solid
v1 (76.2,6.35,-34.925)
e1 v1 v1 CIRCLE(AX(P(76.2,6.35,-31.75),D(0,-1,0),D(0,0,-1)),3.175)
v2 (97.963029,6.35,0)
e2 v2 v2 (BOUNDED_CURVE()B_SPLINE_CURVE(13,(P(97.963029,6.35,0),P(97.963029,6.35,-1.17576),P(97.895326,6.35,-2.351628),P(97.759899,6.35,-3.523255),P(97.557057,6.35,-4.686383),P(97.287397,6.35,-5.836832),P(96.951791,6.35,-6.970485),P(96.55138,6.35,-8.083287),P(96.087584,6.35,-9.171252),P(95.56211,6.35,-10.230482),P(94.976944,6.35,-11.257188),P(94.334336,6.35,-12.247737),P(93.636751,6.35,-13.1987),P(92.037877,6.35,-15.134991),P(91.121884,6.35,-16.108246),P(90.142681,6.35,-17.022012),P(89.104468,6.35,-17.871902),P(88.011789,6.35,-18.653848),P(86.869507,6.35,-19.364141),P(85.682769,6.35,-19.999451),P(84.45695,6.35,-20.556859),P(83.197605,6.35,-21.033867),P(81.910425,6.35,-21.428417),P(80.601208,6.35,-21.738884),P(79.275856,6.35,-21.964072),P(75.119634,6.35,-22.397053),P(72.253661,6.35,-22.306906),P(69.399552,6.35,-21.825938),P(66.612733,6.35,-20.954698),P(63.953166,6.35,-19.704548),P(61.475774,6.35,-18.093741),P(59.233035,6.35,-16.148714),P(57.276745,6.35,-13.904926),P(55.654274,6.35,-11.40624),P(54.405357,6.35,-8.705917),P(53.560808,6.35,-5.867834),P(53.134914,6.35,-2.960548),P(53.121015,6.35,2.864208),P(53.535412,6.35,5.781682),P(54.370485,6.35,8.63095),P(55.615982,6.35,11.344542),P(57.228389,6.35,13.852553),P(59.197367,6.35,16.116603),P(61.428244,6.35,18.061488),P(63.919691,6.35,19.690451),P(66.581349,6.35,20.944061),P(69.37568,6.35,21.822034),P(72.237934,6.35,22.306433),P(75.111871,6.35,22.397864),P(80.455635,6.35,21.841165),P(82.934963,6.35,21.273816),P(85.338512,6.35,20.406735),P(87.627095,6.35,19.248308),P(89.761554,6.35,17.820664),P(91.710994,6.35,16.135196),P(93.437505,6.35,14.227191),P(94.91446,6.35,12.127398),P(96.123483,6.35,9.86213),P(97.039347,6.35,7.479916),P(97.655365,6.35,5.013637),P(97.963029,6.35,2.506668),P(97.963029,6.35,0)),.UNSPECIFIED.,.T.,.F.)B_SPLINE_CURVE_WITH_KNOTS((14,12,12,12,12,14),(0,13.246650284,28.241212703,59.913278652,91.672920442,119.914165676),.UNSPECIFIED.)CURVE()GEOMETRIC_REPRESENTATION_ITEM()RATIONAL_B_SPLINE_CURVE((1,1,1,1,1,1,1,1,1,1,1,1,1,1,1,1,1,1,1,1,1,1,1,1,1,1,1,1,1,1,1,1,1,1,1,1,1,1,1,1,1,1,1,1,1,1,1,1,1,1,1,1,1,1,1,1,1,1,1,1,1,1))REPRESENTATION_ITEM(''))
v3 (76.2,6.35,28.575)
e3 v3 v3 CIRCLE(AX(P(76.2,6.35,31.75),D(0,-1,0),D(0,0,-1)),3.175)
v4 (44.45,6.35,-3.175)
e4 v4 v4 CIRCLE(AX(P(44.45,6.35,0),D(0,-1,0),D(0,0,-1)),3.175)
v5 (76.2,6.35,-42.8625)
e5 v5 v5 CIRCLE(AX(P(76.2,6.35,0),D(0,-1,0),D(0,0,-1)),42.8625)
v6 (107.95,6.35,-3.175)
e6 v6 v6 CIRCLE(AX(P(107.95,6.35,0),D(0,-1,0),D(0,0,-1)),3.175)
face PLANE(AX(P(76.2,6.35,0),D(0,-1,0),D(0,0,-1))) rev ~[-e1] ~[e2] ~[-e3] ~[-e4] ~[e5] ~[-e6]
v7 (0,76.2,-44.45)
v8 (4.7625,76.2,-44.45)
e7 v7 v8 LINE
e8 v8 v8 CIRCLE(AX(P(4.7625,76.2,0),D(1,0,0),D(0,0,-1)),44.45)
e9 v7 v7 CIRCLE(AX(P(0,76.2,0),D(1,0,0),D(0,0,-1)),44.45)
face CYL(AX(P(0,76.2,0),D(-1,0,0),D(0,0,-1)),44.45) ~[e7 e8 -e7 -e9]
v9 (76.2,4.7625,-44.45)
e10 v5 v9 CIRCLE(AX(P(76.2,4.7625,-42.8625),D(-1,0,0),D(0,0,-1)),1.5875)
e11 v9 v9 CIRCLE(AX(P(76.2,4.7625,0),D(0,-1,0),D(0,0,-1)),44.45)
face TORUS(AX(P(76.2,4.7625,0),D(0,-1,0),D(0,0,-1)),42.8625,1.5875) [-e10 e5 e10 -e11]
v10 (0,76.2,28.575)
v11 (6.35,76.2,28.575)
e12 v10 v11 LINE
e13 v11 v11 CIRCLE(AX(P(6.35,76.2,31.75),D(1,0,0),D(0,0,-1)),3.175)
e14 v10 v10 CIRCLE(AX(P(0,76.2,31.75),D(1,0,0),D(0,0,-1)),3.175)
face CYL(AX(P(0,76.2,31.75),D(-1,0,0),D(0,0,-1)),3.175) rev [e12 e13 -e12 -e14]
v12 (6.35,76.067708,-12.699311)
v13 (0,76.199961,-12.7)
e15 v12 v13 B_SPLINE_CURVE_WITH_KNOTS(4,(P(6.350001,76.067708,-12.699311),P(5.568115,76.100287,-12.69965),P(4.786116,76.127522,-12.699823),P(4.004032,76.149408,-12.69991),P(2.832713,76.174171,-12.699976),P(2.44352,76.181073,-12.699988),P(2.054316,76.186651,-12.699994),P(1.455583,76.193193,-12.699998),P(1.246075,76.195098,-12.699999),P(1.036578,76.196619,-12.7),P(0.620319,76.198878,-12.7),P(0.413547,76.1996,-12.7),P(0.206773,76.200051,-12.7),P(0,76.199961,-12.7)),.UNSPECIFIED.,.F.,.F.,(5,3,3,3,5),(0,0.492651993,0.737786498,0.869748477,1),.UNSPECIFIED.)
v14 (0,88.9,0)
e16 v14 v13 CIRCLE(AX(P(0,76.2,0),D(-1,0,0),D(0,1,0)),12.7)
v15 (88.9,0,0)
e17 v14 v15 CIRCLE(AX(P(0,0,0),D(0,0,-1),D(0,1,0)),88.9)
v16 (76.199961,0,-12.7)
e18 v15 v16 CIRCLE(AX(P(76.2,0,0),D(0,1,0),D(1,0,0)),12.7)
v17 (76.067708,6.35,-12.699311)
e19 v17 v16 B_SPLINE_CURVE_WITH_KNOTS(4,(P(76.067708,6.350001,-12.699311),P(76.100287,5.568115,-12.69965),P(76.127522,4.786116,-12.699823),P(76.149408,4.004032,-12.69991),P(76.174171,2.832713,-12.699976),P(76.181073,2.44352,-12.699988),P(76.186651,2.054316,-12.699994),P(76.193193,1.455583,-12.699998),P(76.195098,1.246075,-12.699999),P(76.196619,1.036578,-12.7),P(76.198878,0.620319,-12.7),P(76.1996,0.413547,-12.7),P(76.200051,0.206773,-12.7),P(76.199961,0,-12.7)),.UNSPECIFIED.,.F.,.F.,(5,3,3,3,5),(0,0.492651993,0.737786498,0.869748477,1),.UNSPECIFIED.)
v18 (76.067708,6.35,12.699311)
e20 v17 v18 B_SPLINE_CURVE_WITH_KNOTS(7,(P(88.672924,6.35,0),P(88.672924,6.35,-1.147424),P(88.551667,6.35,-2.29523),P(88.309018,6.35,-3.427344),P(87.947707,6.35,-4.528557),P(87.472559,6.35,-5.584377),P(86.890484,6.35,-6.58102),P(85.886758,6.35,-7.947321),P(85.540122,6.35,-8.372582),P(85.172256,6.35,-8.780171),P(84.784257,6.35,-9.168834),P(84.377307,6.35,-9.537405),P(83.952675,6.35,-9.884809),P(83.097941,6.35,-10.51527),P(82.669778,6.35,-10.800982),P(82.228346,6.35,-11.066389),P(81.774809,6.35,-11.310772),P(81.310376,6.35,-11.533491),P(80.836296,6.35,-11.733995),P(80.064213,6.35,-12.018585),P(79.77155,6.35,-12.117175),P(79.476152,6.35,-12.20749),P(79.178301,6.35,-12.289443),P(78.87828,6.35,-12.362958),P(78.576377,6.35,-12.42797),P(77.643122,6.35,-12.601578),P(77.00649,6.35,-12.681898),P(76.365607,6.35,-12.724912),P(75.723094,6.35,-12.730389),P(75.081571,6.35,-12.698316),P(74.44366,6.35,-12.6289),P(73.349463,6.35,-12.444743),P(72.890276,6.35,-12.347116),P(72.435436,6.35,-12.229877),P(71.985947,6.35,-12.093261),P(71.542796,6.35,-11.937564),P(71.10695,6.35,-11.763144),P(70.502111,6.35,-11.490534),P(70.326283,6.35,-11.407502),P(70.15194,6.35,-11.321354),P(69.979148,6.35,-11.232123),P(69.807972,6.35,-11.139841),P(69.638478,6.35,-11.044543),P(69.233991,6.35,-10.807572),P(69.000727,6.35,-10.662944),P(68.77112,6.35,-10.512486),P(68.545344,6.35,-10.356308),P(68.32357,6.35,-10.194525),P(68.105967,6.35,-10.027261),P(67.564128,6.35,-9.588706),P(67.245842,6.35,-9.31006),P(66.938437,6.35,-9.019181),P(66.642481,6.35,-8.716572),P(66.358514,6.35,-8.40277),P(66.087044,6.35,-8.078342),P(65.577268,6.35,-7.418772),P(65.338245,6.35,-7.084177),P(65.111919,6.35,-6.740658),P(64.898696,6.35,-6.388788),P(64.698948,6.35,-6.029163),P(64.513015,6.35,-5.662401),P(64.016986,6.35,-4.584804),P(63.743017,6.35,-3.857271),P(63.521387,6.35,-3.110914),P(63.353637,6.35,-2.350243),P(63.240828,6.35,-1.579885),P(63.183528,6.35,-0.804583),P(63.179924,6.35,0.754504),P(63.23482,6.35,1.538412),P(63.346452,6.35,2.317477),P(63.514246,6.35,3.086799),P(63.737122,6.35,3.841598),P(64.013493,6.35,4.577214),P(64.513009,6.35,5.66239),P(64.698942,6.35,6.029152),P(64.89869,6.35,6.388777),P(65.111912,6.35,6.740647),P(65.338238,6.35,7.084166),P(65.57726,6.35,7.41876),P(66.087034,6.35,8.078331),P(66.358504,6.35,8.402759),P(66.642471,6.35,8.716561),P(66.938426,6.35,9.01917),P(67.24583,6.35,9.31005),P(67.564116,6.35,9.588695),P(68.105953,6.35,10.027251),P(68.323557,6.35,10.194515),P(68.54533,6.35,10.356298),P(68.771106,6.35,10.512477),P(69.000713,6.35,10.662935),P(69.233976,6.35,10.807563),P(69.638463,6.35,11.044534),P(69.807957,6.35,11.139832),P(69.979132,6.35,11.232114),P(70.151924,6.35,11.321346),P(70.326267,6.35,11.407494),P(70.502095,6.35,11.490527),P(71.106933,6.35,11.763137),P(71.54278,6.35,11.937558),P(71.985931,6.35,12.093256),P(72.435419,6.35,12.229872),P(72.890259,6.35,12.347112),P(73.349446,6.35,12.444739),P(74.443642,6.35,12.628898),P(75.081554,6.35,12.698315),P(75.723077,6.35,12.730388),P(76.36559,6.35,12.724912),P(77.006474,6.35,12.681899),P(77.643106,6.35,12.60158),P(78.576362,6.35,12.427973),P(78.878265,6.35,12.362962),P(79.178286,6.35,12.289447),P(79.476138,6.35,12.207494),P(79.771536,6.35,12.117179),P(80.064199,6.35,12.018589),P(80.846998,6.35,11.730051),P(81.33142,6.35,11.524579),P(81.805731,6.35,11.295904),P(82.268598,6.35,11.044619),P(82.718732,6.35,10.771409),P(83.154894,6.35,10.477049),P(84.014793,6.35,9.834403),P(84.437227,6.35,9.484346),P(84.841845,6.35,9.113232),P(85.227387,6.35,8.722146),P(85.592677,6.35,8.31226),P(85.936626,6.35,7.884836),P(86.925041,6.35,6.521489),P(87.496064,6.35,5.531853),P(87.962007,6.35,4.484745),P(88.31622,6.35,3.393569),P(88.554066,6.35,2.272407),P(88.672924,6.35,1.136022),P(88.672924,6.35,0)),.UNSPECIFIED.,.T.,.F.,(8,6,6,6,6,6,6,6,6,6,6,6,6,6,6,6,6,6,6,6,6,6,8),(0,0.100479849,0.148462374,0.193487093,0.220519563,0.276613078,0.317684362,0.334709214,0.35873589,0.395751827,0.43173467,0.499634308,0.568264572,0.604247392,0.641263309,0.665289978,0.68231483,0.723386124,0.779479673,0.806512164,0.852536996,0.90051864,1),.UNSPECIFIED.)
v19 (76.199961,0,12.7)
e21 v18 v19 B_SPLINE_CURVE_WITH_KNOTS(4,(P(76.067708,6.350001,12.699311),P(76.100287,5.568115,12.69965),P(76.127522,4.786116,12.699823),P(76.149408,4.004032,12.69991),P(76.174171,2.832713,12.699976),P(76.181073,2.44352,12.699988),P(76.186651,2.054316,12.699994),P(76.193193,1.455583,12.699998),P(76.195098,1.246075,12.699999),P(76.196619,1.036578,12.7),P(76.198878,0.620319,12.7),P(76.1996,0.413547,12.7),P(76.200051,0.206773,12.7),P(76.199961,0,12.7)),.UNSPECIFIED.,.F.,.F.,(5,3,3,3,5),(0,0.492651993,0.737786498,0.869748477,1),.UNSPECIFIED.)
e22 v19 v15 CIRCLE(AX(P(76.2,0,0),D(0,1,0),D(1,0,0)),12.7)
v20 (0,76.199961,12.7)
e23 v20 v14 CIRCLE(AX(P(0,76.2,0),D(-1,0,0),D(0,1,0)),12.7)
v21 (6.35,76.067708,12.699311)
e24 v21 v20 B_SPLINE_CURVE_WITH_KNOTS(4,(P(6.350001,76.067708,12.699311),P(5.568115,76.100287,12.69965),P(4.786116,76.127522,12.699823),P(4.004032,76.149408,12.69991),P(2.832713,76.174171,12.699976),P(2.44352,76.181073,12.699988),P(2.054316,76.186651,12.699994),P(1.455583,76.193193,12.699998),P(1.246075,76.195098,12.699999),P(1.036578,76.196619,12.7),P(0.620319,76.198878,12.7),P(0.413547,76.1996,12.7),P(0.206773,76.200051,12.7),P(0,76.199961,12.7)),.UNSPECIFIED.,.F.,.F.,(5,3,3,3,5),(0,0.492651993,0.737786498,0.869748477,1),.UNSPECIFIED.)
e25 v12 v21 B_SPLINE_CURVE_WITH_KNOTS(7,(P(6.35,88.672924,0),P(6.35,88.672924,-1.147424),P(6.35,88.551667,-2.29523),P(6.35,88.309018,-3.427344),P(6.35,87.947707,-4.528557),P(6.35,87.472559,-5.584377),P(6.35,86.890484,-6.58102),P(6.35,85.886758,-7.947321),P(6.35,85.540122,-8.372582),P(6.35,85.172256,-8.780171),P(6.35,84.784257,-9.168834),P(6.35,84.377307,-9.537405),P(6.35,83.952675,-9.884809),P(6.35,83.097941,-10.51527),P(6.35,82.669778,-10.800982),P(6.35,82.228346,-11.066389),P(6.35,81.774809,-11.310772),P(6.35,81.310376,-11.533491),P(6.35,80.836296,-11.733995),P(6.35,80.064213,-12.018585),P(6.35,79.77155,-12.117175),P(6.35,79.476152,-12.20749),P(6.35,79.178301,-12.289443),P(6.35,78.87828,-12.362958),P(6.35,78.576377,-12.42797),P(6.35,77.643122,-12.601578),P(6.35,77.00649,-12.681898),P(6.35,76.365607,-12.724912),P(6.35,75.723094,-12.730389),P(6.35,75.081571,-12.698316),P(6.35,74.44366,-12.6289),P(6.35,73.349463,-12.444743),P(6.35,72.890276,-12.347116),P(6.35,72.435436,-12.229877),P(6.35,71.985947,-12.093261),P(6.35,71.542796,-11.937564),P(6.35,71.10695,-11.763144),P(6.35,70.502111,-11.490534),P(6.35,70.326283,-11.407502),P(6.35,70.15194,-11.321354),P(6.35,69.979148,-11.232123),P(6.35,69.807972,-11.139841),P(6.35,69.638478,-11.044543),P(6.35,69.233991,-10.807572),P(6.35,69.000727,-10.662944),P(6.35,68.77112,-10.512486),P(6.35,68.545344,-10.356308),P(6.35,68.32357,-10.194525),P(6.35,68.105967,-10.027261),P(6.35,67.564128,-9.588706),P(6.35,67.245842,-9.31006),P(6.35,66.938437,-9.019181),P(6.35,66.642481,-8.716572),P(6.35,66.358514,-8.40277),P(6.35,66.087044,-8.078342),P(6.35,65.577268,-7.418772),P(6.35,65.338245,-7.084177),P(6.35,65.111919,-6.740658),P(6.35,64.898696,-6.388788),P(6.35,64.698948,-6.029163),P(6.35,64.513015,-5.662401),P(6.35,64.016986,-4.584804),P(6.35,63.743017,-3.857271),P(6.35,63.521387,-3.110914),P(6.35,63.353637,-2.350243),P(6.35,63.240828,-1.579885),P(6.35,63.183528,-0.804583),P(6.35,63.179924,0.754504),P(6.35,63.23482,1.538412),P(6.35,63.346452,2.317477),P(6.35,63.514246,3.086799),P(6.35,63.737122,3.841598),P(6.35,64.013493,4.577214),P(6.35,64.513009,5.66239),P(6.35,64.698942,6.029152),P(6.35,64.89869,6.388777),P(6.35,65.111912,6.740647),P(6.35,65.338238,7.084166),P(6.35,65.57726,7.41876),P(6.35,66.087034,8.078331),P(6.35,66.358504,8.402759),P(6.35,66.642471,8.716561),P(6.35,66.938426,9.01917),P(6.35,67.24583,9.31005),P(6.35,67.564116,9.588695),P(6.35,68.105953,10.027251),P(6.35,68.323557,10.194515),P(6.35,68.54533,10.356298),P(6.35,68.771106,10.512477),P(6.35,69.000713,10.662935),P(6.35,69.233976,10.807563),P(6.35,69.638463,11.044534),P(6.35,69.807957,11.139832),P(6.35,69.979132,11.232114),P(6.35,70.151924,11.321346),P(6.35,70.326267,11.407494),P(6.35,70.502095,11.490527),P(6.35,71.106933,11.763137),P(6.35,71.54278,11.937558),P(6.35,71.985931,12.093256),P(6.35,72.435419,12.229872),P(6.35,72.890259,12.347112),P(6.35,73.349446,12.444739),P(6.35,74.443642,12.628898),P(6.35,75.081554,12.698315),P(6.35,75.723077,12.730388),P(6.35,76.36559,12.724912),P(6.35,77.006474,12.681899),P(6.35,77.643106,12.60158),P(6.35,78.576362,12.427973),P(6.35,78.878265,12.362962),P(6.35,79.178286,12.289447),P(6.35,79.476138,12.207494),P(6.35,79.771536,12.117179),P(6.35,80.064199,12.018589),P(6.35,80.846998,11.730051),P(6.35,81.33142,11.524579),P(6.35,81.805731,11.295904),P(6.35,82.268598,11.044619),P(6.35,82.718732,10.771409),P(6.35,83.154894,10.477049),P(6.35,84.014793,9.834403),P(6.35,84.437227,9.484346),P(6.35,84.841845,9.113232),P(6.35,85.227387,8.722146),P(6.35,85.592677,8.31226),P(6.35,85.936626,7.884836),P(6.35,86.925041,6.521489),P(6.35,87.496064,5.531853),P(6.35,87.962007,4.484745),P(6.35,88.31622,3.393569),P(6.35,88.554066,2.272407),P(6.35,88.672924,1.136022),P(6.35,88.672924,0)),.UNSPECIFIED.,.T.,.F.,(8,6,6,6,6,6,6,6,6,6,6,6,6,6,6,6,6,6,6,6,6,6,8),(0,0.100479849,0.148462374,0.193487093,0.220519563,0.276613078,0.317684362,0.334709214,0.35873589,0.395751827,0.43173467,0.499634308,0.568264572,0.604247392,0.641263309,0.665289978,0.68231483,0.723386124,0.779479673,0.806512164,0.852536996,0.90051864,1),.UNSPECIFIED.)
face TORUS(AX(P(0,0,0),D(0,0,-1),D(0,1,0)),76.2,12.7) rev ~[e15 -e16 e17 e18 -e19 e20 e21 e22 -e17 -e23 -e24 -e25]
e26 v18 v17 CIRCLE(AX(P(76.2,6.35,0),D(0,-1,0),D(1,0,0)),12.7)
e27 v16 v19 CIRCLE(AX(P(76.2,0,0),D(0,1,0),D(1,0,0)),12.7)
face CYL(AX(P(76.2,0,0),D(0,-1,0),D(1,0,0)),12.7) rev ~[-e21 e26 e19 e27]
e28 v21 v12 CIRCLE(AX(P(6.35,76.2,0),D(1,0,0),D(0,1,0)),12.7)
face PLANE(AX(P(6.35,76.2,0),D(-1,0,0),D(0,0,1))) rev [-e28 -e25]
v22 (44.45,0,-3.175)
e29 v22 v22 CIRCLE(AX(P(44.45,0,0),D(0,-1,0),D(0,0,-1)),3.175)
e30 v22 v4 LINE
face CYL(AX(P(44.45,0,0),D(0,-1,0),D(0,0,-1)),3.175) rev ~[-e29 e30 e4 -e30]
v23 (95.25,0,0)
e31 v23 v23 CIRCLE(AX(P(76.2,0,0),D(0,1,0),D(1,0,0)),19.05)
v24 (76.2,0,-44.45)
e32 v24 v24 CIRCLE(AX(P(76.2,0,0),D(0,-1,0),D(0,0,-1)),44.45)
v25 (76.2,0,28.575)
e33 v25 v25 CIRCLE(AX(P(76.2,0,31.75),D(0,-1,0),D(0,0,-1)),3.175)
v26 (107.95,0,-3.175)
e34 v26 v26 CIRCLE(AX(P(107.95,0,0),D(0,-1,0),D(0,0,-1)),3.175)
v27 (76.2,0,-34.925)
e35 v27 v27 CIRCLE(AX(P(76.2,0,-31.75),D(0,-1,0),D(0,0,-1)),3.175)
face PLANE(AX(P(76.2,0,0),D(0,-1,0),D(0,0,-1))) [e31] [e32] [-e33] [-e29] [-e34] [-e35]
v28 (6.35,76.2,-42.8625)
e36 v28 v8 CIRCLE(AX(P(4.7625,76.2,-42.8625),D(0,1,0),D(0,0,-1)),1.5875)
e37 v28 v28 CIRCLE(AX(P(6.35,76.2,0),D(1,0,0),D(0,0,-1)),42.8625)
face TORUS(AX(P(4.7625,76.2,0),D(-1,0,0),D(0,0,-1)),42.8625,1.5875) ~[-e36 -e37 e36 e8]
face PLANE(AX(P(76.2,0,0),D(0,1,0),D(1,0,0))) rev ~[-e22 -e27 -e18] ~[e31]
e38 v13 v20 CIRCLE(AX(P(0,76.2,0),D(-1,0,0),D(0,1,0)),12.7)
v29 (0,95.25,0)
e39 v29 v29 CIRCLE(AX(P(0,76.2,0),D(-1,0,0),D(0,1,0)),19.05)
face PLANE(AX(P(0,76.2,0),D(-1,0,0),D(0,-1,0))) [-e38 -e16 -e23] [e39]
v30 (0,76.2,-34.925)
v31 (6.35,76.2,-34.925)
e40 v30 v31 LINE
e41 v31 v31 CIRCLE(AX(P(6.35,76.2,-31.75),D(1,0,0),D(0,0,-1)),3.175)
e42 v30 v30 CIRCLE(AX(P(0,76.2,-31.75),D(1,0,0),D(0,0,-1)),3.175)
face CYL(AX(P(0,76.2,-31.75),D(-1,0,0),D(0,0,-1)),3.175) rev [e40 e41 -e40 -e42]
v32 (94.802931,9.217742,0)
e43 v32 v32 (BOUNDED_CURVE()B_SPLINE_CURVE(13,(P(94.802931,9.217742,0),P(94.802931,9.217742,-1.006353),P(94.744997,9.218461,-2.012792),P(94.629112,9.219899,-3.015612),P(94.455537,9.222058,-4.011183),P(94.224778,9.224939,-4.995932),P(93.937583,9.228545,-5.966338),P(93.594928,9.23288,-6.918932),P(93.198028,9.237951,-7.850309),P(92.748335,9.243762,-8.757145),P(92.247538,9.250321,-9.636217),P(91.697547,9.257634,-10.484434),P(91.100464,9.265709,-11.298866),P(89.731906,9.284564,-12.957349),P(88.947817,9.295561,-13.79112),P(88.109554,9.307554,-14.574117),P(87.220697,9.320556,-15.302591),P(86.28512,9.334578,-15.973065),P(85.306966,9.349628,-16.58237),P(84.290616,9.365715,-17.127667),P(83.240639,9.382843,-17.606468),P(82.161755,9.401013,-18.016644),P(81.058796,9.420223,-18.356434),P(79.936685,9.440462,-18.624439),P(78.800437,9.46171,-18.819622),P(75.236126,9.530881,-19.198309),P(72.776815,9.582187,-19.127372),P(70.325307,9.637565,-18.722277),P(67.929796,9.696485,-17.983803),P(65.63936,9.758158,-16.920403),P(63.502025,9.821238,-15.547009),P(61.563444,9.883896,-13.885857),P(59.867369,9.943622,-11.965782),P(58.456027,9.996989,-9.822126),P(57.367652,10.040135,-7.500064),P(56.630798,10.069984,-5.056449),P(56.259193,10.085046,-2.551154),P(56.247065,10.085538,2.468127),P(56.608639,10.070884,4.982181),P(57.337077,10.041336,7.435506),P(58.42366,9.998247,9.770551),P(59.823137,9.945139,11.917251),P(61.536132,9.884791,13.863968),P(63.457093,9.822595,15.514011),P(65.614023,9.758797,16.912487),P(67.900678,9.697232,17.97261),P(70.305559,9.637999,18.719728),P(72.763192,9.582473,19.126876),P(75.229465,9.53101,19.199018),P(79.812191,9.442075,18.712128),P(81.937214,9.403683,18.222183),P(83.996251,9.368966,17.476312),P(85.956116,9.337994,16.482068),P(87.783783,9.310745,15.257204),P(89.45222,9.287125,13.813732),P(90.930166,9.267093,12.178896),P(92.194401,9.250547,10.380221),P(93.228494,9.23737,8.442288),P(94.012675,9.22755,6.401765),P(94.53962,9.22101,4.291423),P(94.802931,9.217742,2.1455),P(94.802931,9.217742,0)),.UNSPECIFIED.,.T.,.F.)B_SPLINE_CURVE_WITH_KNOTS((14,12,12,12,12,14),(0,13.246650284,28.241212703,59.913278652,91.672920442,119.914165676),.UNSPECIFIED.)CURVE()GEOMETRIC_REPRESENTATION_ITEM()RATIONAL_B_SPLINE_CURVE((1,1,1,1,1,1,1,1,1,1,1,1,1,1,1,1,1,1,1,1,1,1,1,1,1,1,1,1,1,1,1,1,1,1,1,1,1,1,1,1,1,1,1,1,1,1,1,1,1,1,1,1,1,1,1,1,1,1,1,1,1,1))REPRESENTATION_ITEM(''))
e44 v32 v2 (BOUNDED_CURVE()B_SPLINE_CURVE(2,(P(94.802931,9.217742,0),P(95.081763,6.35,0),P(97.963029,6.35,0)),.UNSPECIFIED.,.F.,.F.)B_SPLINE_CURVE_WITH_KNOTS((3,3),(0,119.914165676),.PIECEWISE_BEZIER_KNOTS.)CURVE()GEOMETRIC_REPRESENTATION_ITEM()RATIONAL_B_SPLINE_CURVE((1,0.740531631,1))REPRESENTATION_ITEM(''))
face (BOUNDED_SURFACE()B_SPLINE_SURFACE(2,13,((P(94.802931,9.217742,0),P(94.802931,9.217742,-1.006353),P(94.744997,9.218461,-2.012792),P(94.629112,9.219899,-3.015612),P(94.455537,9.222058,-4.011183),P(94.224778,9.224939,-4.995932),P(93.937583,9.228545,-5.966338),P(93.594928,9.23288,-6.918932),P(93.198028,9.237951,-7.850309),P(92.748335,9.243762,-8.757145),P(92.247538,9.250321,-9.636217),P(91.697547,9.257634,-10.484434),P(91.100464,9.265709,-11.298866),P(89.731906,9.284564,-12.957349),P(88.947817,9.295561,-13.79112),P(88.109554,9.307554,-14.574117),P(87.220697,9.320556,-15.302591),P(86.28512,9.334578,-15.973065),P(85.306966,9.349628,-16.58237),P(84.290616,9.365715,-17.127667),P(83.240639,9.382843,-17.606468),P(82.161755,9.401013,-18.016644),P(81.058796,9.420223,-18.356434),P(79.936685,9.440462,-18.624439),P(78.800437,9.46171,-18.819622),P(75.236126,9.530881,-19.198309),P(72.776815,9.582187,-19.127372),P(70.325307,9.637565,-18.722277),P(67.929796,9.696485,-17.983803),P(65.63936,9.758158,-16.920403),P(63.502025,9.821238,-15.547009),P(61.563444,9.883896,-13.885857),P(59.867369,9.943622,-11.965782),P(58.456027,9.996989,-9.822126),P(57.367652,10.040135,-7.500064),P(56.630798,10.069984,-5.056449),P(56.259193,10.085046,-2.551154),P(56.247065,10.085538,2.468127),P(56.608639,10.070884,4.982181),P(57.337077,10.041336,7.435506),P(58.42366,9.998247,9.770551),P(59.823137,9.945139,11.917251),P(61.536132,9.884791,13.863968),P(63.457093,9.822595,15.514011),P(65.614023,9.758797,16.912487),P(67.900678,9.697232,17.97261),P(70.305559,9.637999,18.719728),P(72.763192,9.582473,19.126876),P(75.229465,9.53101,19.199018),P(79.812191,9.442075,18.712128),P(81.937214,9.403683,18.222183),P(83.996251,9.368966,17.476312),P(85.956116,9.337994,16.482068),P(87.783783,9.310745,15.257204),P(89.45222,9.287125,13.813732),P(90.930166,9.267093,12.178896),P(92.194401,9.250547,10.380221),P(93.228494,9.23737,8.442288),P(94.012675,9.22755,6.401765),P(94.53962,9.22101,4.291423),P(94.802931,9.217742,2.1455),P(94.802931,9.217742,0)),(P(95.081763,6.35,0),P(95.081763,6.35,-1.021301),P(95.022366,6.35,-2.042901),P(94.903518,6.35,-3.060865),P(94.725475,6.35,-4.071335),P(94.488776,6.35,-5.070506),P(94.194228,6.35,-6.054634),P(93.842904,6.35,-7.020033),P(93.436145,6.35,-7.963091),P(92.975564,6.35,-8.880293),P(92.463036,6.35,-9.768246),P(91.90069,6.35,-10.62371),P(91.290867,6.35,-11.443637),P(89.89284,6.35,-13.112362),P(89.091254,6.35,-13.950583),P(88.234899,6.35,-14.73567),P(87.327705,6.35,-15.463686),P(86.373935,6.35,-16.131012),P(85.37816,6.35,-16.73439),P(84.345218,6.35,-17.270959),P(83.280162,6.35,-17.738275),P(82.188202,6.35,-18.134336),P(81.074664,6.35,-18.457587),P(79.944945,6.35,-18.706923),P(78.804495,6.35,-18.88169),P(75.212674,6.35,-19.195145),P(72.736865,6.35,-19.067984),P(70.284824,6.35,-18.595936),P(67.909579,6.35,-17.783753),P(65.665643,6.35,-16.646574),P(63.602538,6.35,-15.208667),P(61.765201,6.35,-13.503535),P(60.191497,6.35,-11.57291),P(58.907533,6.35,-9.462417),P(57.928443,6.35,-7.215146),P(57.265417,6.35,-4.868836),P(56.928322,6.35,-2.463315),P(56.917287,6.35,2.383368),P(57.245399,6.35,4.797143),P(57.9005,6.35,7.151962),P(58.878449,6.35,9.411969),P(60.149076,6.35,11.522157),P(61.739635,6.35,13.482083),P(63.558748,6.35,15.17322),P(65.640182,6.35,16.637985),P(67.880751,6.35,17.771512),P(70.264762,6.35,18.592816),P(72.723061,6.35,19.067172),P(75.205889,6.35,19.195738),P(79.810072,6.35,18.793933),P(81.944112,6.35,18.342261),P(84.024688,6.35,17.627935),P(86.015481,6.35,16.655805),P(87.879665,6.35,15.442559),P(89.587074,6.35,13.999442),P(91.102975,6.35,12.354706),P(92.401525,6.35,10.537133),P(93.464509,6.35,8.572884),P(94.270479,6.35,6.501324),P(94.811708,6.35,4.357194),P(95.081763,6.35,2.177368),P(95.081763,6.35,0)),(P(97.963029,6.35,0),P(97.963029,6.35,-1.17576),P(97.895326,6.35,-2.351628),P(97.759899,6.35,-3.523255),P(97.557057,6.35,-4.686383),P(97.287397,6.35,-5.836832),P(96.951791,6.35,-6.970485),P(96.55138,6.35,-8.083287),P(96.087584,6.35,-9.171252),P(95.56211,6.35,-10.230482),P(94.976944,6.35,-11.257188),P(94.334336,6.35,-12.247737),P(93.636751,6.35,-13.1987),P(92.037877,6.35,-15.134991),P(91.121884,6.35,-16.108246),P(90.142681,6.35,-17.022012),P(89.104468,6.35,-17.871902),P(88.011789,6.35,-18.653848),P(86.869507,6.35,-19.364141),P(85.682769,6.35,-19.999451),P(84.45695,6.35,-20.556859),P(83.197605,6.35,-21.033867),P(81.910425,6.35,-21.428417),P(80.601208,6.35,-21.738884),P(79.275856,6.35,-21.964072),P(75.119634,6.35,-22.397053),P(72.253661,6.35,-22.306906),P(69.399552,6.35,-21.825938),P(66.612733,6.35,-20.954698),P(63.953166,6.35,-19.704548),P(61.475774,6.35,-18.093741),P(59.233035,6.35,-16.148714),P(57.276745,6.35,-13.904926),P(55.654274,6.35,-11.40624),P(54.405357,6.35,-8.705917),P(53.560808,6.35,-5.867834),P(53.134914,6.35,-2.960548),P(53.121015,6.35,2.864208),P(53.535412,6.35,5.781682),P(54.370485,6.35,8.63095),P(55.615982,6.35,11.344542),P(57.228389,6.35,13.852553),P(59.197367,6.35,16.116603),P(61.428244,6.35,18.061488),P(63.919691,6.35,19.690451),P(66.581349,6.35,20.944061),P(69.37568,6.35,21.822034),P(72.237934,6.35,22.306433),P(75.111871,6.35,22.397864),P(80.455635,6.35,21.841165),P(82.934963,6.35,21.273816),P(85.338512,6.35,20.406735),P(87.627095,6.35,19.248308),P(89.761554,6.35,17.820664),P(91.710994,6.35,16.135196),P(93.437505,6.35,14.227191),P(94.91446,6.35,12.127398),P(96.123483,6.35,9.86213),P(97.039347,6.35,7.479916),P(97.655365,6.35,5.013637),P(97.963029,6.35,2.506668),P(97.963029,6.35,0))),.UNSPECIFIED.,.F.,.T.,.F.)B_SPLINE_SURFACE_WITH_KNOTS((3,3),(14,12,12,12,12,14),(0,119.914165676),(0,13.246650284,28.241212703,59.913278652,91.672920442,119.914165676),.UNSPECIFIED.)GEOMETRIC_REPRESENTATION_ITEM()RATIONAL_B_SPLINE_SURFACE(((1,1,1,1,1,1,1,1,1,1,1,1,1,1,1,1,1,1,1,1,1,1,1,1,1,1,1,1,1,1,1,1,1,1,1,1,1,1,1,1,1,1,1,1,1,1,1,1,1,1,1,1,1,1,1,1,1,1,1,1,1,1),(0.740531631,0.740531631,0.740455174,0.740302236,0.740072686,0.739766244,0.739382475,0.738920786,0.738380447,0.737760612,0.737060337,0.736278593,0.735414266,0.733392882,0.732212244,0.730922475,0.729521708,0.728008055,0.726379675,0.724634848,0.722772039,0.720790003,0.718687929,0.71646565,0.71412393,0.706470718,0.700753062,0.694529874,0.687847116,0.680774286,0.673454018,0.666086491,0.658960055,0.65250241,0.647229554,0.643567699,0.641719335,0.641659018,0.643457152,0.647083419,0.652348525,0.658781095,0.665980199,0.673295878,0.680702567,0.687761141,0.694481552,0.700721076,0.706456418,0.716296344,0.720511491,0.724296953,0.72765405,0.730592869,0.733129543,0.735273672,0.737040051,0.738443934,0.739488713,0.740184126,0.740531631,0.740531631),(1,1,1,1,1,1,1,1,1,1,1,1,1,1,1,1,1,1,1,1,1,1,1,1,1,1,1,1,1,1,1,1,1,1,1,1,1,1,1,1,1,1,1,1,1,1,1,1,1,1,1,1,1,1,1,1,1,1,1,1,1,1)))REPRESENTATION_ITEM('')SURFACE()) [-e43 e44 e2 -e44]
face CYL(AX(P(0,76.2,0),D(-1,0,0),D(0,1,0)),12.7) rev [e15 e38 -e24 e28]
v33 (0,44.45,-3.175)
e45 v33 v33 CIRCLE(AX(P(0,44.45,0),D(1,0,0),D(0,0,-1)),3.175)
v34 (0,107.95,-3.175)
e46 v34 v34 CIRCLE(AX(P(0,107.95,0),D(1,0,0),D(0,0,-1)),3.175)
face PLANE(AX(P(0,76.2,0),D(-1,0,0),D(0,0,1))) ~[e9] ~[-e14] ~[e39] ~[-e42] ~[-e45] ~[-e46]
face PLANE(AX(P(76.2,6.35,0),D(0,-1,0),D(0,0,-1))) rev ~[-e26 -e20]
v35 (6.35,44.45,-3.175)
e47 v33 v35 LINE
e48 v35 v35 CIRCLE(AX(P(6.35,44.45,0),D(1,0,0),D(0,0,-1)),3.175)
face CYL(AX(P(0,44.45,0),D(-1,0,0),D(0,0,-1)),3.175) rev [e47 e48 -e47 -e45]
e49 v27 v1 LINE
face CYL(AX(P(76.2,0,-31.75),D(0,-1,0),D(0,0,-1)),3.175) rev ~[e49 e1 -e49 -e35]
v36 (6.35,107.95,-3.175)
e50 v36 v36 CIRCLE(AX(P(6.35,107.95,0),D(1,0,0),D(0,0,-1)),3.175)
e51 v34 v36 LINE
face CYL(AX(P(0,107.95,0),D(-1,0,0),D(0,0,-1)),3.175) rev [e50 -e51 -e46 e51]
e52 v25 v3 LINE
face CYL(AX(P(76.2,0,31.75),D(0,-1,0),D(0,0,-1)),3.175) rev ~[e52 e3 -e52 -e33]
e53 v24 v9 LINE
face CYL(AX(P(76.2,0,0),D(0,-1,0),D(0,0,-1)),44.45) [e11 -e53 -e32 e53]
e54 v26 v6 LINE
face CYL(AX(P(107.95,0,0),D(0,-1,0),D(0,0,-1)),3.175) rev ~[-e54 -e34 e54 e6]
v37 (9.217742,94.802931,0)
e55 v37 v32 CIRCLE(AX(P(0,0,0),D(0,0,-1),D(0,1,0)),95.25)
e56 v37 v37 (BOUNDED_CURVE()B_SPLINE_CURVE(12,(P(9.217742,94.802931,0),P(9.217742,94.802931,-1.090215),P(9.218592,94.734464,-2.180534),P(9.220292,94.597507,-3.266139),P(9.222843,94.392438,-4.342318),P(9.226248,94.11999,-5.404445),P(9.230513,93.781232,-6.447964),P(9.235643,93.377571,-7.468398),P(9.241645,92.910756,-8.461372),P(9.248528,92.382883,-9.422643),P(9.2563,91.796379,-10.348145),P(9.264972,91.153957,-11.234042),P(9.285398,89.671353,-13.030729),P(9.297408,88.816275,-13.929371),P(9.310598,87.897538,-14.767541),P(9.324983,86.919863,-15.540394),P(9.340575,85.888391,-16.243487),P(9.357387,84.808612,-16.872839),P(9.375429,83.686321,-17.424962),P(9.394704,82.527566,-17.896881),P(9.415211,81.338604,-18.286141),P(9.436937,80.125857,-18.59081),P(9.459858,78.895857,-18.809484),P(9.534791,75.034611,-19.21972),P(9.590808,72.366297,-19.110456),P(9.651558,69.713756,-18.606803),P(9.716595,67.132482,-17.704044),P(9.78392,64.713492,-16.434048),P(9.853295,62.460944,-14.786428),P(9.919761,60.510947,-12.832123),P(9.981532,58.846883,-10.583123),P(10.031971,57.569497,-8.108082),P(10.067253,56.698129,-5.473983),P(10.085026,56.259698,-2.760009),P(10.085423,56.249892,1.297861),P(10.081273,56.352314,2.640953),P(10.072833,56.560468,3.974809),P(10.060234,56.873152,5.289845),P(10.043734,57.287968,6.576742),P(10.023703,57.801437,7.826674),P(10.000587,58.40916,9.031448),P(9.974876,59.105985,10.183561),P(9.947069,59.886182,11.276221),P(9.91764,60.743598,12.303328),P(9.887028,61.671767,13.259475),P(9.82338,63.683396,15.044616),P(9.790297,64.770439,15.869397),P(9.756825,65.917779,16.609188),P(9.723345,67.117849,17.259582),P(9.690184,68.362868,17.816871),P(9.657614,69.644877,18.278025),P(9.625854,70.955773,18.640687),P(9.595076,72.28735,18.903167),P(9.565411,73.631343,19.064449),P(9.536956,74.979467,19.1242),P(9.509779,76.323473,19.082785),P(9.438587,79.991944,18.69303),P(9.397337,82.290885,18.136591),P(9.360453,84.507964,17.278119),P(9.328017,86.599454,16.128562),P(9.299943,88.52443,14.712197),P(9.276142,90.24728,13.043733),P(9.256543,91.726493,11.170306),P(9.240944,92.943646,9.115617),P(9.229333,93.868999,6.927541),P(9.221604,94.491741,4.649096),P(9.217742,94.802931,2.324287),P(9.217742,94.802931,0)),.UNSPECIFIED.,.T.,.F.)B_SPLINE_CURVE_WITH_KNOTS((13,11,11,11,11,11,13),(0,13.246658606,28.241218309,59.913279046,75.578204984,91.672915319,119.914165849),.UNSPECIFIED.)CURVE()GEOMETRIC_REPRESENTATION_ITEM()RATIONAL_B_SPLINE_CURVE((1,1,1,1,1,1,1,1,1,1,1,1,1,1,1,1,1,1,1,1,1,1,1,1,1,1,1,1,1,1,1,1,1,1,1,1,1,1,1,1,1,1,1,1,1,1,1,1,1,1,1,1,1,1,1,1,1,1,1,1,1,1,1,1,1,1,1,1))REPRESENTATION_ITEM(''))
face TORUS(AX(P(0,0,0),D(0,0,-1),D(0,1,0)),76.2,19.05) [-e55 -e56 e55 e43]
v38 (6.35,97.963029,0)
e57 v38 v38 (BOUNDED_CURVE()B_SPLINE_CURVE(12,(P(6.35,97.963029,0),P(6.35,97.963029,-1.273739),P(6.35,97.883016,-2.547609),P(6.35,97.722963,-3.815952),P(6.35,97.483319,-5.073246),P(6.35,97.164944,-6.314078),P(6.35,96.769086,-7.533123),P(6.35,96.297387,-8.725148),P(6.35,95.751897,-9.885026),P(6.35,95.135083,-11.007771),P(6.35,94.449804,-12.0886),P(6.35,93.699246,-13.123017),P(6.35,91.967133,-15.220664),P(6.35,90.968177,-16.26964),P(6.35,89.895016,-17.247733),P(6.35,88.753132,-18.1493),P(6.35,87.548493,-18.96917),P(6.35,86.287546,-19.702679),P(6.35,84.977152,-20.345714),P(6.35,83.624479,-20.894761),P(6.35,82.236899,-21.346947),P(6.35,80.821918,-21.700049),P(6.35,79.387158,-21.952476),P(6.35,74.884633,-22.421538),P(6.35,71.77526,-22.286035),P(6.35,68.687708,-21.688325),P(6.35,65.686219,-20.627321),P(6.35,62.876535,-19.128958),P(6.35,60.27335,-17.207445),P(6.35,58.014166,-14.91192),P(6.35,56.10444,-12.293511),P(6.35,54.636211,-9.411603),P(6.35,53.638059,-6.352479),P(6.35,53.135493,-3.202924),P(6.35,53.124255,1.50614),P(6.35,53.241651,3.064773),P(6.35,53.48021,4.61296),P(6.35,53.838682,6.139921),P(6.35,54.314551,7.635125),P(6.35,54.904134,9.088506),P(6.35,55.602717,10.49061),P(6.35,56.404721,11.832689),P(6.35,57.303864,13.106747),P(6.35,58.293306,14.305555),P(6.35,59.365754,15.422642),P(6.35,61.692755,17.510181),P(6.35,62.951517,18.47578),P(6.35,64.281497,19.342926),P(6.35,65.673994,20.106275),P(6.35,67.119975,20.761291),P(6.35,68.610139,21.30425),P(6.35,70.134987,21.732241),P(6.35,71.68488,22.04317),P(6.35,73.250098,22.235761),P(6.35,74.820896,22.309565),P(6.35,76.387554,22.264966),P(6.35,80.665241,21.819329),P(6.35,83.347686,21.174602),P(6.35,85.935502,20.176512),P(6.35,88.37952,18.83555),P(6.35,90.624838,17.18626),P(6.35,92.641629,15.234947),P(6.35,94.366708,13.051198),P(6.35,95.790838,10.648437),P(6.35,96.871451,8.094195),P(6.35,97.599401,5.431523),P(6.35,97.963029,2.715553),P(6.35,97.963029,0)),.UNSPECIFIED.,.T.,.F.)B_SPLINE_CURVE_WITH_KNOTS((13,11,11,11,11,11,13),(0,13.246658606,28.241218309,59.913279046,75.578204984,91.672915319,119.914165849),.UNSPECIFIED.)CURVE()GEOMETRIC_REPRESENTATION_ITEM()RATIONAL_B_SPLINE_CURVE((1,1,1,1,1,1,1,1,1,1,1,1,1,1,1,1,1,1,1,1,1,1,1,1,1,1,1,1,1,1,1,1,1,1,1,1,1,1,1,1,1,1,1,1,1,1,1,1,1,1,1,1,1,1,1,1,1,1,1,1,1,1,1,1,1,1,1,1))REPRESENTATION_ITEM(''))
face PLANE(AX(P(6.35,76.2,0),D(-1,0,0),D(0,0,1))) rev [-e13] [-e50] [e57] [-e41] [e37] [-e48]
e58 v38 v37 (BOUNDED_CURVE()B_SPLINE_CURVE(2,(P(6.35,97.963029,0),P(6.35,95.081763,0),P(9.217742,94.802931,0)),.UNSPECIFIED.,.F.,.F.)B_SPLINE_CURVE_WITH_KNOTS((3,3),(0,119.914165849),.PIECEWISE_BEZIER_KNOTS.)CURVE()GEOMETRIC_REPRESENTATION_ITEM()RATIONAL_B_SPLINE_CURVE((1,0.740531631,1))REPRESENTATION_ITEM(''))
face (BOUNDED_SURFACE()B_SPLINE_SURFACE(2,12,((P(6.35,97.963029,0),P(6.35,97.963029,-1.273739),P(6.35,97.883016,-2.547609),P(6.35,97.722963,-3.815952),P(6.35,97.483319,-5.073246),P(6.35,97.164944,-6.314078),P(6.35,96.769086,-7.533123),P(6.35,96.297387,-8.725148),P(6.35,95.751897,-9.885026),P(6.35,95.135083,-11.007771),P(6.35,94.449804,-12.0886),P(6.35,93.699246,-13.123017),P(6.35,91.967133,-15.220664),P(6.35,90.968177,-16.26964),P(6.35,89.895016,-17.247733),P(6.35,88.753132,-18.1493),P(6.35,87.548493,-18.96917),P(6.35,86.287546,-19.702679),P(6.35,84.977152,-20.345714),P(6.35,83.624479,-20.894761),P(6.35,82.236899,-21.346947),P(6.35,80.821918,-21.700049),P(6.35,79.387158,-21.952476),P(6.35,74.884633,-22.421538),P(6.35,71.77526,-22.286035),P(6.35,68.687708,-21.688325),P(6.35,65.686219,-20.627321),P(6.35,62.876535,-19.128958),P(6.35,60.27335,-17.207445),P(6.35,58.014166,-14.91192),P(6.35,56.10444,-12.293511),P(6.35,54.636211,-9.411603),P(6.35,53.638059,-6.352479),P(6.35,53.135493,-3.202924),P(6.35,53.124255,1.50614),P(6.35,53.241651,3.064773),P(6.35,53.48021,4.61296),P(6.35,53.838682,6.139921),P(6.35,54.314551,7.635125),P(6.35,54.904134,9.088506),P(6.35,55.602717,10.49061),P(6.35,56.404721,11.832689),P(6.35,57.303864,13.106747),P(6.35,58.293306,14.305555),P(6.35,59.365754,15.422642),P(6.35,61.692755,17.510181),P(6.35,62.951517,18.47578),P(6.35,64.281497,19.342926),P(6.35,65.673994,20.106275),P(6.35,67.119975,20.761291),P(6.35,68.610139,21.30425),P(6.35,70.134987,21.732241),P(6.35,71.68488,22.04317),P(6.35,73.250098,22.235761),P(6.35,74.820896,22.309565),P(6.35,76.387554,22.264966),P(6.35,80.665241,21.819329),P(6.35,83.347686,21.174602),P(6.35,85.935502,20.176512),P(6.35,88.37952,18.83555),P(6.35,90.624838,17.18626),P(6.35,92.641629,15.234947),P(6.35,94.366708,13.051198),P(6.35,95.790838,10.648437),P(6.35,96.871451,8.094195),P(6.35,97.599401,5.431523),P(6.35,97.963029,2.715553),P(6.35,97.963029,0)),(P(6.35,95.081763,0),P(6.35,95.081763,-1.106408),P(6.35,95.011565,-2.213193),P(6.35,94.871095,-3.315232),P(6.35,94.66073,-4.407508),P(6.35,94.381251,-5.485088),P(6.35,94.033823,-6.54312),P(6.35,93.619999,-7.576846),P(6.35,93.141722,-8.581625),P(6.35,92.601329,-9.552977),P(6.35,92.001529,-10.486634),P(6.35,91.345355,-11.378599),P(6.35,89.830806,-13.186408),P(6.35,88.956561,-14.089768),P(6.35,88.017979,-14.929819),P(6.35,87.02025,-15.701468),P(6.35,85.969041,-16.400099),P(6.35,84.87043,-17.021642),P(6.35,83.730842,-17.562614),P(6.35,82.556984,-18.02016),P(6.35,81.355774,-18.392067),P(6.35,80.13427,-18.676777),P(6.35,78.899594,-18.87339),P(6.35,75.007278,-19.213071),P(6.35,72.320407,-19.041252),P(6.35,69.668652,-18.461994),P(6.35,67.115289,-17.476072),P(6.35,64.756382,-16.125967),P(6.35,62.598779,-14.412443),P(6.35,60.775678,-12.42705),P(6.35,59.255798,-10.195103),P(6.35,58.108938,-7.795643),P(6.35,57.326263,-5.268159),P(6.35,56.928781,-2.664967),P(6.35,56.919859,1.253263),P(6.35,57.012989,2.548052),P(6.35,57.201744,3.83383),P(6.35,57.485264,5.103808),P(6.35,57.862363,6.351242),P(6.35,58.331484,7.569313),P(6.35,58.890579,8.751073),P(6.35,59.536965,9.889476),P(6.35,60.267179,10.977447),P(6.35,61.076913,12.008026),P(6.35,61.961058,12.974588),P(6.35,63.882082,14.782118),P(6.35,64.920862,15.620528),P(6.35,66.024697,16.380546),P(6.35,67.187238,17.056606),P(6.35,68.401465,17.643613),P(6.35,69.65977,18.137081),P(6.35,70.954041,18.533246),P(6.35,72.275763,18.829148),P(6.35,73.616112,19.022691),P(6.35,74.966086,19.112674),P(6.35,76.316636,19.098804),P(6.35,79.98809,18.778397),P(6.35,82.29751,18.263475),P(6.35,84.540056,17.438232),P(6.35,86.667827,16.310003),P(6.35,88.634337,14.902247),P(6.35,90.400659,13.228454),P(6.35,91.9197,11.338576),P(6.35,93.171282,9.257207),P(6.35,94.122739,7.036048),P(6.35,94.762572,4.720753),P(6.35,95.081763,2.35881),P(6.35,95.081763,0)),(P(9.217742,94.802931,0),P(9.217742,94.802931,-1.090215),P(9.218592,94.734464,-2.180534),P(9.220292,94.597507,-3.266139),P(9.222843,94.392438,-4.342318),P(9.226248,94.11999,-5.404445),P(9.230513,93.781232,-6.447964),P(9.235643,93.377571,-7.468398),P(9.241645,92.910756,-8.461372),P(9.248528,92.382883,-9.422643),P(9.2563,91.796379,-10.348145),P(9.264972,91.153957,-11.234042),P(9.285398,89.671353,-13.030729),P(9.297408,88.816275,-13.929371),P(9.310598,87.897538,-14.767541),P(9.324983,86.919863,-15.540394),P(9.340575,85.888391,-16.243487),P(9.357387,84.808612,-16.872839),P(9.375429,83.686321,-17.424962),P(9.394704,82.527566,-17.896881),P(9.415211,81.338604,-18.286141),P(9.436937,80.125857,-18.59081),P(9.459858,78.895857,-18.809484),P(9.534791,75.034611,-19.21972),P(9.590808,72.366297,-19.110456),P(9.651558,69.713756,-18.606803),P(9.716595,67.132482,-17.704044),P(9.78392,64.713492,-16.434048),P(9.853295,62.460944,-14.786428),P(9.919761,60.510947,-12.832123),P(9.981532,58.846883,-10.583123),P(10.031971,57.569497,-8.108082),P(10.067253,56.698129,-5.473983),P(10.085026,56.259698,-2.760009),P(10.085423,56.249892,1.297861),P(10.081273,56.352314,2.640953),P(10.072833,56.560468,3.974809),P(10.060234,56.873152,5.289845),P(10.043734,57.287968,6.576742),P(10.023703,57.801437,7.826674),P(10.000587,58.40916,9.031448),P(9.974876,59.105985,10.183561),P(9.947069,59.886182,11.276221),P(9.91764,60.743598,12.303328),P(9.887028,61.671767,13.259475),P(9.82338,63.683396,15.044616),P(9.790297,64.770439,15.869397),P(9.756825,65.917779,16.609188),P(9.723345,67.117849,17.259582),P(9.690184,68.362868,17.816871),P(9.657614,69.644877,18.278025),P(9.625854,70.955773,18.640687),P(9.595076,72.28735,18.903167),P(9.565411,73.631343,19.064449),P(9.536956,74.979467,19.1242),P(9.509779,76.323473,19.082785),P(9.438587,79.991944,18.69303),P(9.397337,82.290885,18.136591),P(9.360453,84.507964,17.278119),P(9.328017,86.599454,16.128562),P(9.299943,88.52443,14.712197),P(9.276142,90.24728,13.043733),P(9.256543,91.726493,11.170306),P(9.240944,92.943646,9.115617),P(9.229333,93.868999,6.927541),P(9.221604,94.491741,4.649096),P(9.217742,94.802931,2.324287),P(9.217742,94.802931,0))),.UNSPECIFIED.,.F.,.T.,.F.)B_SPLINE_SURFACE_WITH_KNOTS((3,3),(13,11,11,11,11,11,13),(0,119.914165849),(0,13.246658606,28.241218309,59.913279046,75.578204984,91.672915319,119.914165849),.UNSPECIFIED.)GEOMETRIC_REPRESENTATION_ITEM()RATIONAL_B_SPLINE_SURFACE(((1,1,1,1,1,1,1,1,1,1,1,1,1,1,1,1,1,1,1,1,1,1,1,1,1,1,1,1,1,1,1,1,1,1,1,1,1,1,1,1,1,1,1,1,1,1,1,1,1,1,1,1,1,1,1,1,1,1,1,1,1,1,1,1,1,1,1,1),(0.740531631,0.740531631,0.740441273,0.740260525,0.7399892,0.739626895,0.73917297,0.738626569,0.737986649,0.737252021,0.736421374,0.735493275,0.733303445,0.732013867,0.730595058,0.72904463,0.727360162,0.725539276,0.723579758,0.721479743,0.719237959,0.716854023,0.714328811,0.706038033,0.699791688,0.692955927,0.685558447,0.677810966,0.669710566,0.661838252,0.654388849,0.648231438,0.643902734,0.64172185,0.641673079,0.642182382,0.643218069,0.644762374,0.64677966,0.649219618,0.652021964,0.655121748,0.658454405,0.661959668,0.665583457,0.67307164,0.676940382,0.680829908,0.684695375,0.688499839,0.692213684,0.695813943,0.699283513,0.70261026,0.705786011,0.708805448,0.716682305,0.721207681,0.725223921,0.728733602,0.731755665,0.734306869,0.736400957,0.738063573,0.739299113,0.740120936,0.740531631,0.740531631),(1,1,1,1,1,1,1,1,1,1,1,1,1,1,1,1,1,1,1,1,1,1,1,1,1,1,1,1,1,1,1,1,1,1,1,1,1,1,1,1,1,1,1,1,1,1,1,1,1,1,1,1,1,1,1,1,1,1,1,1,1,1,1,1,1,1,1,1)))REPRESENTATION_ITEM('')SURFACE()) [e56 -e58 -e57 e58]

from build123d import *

# Parameters (mm, degrees)
SKETCH2_R           = 19.05
SKETCH2_R_2         = 12.7
SKETCH3_R           = 44.45
SKETCH3_R_2         = 3.175
SKETCH3_R_3         = 12.7
BOSS_EXTRUDE1_DEPTH = 6.35
FILLET1_R           = 3.175
FILLET2_R           = 1.5875


with BuildPart() as part:
    # Sweep1: sweep along a path in Sketch1
    with BuildLine(Plane.XY) as sweep1_path:
        ThreePointArc((0, 76.2), (53.881536726, 53.881536726), (76.2, 0))
    # Sketch2 → Sweep1 (sweep)
    with BuildSketch(Plane(origin=(0, 0, 0), x_dir=(1, 0, 0), z_dir=(0, 1, 0))):
        with Locations((76.2, 0)):
            Circle(SKETCH2_R)
        with Locations((76.2, 0)):
            Circle(SKETCH2_R_2, mode=Mode.SUBTRACT)
    sweep(path=sweep1_path.line)

    # Sketch3 → Boss-Extrude1 (add)
    with BuildSketch(Plane.XZ):
        with Locations((76.2, 0)):
            Circle(SKETCH3_R)
        with Locations((107.95, 0)):
            Circle(SKETCH3_R_2, mode=Mode.SUBTRACT)
        with Locations((76.2, -31.75)):
            Circle(SKETCH3_R_2, mode=Mode.SUBTRACT)
        with Locations((44.45, 0)):
            Circle(SKETCH3_R_2, mode=Mode.SUBTRACT)
        with Locations((76.2, 31.75)):
            Circle(SKETCH3_R_2, mode=Mode.SUBTRACT)
        with Locations((76.2, 0)):
            Circle(SKETCH3_R_3, mode=Mode.SUBTRACT)
    boss_extrude1 = extrude(amount=-BOSS_EXTRUDE1_DEPTH)

    # Mirror1: Boss-Extrude1 across plane
    add(boss_extrude1.mirror(Plane(origin=(0, 0, 0), x_dir=(0, 0, 1), z_dir=(-0.7071067811865488, 0.7071067811865464, 0))))

    # Fillet1
    fillet1_edges = [part.edges().sort_by_distance(p)[0] for p in [
        (56.796126628, 6.35, 0),
        (6.35, 56.796126628, 0),
    ]]
    fillet(fillet1_edges, radius=FILLET1_R)

    # Fillet2
    fillet2_edges = [part.edges().sort_by_distance(p)[0] for p in [
        (31.75, 6.35, 0),
        (6.35, 31.75, 0),
    ]]
    fillet(fillet2_edges, radius=FILLET2_R)


solid = part.part
